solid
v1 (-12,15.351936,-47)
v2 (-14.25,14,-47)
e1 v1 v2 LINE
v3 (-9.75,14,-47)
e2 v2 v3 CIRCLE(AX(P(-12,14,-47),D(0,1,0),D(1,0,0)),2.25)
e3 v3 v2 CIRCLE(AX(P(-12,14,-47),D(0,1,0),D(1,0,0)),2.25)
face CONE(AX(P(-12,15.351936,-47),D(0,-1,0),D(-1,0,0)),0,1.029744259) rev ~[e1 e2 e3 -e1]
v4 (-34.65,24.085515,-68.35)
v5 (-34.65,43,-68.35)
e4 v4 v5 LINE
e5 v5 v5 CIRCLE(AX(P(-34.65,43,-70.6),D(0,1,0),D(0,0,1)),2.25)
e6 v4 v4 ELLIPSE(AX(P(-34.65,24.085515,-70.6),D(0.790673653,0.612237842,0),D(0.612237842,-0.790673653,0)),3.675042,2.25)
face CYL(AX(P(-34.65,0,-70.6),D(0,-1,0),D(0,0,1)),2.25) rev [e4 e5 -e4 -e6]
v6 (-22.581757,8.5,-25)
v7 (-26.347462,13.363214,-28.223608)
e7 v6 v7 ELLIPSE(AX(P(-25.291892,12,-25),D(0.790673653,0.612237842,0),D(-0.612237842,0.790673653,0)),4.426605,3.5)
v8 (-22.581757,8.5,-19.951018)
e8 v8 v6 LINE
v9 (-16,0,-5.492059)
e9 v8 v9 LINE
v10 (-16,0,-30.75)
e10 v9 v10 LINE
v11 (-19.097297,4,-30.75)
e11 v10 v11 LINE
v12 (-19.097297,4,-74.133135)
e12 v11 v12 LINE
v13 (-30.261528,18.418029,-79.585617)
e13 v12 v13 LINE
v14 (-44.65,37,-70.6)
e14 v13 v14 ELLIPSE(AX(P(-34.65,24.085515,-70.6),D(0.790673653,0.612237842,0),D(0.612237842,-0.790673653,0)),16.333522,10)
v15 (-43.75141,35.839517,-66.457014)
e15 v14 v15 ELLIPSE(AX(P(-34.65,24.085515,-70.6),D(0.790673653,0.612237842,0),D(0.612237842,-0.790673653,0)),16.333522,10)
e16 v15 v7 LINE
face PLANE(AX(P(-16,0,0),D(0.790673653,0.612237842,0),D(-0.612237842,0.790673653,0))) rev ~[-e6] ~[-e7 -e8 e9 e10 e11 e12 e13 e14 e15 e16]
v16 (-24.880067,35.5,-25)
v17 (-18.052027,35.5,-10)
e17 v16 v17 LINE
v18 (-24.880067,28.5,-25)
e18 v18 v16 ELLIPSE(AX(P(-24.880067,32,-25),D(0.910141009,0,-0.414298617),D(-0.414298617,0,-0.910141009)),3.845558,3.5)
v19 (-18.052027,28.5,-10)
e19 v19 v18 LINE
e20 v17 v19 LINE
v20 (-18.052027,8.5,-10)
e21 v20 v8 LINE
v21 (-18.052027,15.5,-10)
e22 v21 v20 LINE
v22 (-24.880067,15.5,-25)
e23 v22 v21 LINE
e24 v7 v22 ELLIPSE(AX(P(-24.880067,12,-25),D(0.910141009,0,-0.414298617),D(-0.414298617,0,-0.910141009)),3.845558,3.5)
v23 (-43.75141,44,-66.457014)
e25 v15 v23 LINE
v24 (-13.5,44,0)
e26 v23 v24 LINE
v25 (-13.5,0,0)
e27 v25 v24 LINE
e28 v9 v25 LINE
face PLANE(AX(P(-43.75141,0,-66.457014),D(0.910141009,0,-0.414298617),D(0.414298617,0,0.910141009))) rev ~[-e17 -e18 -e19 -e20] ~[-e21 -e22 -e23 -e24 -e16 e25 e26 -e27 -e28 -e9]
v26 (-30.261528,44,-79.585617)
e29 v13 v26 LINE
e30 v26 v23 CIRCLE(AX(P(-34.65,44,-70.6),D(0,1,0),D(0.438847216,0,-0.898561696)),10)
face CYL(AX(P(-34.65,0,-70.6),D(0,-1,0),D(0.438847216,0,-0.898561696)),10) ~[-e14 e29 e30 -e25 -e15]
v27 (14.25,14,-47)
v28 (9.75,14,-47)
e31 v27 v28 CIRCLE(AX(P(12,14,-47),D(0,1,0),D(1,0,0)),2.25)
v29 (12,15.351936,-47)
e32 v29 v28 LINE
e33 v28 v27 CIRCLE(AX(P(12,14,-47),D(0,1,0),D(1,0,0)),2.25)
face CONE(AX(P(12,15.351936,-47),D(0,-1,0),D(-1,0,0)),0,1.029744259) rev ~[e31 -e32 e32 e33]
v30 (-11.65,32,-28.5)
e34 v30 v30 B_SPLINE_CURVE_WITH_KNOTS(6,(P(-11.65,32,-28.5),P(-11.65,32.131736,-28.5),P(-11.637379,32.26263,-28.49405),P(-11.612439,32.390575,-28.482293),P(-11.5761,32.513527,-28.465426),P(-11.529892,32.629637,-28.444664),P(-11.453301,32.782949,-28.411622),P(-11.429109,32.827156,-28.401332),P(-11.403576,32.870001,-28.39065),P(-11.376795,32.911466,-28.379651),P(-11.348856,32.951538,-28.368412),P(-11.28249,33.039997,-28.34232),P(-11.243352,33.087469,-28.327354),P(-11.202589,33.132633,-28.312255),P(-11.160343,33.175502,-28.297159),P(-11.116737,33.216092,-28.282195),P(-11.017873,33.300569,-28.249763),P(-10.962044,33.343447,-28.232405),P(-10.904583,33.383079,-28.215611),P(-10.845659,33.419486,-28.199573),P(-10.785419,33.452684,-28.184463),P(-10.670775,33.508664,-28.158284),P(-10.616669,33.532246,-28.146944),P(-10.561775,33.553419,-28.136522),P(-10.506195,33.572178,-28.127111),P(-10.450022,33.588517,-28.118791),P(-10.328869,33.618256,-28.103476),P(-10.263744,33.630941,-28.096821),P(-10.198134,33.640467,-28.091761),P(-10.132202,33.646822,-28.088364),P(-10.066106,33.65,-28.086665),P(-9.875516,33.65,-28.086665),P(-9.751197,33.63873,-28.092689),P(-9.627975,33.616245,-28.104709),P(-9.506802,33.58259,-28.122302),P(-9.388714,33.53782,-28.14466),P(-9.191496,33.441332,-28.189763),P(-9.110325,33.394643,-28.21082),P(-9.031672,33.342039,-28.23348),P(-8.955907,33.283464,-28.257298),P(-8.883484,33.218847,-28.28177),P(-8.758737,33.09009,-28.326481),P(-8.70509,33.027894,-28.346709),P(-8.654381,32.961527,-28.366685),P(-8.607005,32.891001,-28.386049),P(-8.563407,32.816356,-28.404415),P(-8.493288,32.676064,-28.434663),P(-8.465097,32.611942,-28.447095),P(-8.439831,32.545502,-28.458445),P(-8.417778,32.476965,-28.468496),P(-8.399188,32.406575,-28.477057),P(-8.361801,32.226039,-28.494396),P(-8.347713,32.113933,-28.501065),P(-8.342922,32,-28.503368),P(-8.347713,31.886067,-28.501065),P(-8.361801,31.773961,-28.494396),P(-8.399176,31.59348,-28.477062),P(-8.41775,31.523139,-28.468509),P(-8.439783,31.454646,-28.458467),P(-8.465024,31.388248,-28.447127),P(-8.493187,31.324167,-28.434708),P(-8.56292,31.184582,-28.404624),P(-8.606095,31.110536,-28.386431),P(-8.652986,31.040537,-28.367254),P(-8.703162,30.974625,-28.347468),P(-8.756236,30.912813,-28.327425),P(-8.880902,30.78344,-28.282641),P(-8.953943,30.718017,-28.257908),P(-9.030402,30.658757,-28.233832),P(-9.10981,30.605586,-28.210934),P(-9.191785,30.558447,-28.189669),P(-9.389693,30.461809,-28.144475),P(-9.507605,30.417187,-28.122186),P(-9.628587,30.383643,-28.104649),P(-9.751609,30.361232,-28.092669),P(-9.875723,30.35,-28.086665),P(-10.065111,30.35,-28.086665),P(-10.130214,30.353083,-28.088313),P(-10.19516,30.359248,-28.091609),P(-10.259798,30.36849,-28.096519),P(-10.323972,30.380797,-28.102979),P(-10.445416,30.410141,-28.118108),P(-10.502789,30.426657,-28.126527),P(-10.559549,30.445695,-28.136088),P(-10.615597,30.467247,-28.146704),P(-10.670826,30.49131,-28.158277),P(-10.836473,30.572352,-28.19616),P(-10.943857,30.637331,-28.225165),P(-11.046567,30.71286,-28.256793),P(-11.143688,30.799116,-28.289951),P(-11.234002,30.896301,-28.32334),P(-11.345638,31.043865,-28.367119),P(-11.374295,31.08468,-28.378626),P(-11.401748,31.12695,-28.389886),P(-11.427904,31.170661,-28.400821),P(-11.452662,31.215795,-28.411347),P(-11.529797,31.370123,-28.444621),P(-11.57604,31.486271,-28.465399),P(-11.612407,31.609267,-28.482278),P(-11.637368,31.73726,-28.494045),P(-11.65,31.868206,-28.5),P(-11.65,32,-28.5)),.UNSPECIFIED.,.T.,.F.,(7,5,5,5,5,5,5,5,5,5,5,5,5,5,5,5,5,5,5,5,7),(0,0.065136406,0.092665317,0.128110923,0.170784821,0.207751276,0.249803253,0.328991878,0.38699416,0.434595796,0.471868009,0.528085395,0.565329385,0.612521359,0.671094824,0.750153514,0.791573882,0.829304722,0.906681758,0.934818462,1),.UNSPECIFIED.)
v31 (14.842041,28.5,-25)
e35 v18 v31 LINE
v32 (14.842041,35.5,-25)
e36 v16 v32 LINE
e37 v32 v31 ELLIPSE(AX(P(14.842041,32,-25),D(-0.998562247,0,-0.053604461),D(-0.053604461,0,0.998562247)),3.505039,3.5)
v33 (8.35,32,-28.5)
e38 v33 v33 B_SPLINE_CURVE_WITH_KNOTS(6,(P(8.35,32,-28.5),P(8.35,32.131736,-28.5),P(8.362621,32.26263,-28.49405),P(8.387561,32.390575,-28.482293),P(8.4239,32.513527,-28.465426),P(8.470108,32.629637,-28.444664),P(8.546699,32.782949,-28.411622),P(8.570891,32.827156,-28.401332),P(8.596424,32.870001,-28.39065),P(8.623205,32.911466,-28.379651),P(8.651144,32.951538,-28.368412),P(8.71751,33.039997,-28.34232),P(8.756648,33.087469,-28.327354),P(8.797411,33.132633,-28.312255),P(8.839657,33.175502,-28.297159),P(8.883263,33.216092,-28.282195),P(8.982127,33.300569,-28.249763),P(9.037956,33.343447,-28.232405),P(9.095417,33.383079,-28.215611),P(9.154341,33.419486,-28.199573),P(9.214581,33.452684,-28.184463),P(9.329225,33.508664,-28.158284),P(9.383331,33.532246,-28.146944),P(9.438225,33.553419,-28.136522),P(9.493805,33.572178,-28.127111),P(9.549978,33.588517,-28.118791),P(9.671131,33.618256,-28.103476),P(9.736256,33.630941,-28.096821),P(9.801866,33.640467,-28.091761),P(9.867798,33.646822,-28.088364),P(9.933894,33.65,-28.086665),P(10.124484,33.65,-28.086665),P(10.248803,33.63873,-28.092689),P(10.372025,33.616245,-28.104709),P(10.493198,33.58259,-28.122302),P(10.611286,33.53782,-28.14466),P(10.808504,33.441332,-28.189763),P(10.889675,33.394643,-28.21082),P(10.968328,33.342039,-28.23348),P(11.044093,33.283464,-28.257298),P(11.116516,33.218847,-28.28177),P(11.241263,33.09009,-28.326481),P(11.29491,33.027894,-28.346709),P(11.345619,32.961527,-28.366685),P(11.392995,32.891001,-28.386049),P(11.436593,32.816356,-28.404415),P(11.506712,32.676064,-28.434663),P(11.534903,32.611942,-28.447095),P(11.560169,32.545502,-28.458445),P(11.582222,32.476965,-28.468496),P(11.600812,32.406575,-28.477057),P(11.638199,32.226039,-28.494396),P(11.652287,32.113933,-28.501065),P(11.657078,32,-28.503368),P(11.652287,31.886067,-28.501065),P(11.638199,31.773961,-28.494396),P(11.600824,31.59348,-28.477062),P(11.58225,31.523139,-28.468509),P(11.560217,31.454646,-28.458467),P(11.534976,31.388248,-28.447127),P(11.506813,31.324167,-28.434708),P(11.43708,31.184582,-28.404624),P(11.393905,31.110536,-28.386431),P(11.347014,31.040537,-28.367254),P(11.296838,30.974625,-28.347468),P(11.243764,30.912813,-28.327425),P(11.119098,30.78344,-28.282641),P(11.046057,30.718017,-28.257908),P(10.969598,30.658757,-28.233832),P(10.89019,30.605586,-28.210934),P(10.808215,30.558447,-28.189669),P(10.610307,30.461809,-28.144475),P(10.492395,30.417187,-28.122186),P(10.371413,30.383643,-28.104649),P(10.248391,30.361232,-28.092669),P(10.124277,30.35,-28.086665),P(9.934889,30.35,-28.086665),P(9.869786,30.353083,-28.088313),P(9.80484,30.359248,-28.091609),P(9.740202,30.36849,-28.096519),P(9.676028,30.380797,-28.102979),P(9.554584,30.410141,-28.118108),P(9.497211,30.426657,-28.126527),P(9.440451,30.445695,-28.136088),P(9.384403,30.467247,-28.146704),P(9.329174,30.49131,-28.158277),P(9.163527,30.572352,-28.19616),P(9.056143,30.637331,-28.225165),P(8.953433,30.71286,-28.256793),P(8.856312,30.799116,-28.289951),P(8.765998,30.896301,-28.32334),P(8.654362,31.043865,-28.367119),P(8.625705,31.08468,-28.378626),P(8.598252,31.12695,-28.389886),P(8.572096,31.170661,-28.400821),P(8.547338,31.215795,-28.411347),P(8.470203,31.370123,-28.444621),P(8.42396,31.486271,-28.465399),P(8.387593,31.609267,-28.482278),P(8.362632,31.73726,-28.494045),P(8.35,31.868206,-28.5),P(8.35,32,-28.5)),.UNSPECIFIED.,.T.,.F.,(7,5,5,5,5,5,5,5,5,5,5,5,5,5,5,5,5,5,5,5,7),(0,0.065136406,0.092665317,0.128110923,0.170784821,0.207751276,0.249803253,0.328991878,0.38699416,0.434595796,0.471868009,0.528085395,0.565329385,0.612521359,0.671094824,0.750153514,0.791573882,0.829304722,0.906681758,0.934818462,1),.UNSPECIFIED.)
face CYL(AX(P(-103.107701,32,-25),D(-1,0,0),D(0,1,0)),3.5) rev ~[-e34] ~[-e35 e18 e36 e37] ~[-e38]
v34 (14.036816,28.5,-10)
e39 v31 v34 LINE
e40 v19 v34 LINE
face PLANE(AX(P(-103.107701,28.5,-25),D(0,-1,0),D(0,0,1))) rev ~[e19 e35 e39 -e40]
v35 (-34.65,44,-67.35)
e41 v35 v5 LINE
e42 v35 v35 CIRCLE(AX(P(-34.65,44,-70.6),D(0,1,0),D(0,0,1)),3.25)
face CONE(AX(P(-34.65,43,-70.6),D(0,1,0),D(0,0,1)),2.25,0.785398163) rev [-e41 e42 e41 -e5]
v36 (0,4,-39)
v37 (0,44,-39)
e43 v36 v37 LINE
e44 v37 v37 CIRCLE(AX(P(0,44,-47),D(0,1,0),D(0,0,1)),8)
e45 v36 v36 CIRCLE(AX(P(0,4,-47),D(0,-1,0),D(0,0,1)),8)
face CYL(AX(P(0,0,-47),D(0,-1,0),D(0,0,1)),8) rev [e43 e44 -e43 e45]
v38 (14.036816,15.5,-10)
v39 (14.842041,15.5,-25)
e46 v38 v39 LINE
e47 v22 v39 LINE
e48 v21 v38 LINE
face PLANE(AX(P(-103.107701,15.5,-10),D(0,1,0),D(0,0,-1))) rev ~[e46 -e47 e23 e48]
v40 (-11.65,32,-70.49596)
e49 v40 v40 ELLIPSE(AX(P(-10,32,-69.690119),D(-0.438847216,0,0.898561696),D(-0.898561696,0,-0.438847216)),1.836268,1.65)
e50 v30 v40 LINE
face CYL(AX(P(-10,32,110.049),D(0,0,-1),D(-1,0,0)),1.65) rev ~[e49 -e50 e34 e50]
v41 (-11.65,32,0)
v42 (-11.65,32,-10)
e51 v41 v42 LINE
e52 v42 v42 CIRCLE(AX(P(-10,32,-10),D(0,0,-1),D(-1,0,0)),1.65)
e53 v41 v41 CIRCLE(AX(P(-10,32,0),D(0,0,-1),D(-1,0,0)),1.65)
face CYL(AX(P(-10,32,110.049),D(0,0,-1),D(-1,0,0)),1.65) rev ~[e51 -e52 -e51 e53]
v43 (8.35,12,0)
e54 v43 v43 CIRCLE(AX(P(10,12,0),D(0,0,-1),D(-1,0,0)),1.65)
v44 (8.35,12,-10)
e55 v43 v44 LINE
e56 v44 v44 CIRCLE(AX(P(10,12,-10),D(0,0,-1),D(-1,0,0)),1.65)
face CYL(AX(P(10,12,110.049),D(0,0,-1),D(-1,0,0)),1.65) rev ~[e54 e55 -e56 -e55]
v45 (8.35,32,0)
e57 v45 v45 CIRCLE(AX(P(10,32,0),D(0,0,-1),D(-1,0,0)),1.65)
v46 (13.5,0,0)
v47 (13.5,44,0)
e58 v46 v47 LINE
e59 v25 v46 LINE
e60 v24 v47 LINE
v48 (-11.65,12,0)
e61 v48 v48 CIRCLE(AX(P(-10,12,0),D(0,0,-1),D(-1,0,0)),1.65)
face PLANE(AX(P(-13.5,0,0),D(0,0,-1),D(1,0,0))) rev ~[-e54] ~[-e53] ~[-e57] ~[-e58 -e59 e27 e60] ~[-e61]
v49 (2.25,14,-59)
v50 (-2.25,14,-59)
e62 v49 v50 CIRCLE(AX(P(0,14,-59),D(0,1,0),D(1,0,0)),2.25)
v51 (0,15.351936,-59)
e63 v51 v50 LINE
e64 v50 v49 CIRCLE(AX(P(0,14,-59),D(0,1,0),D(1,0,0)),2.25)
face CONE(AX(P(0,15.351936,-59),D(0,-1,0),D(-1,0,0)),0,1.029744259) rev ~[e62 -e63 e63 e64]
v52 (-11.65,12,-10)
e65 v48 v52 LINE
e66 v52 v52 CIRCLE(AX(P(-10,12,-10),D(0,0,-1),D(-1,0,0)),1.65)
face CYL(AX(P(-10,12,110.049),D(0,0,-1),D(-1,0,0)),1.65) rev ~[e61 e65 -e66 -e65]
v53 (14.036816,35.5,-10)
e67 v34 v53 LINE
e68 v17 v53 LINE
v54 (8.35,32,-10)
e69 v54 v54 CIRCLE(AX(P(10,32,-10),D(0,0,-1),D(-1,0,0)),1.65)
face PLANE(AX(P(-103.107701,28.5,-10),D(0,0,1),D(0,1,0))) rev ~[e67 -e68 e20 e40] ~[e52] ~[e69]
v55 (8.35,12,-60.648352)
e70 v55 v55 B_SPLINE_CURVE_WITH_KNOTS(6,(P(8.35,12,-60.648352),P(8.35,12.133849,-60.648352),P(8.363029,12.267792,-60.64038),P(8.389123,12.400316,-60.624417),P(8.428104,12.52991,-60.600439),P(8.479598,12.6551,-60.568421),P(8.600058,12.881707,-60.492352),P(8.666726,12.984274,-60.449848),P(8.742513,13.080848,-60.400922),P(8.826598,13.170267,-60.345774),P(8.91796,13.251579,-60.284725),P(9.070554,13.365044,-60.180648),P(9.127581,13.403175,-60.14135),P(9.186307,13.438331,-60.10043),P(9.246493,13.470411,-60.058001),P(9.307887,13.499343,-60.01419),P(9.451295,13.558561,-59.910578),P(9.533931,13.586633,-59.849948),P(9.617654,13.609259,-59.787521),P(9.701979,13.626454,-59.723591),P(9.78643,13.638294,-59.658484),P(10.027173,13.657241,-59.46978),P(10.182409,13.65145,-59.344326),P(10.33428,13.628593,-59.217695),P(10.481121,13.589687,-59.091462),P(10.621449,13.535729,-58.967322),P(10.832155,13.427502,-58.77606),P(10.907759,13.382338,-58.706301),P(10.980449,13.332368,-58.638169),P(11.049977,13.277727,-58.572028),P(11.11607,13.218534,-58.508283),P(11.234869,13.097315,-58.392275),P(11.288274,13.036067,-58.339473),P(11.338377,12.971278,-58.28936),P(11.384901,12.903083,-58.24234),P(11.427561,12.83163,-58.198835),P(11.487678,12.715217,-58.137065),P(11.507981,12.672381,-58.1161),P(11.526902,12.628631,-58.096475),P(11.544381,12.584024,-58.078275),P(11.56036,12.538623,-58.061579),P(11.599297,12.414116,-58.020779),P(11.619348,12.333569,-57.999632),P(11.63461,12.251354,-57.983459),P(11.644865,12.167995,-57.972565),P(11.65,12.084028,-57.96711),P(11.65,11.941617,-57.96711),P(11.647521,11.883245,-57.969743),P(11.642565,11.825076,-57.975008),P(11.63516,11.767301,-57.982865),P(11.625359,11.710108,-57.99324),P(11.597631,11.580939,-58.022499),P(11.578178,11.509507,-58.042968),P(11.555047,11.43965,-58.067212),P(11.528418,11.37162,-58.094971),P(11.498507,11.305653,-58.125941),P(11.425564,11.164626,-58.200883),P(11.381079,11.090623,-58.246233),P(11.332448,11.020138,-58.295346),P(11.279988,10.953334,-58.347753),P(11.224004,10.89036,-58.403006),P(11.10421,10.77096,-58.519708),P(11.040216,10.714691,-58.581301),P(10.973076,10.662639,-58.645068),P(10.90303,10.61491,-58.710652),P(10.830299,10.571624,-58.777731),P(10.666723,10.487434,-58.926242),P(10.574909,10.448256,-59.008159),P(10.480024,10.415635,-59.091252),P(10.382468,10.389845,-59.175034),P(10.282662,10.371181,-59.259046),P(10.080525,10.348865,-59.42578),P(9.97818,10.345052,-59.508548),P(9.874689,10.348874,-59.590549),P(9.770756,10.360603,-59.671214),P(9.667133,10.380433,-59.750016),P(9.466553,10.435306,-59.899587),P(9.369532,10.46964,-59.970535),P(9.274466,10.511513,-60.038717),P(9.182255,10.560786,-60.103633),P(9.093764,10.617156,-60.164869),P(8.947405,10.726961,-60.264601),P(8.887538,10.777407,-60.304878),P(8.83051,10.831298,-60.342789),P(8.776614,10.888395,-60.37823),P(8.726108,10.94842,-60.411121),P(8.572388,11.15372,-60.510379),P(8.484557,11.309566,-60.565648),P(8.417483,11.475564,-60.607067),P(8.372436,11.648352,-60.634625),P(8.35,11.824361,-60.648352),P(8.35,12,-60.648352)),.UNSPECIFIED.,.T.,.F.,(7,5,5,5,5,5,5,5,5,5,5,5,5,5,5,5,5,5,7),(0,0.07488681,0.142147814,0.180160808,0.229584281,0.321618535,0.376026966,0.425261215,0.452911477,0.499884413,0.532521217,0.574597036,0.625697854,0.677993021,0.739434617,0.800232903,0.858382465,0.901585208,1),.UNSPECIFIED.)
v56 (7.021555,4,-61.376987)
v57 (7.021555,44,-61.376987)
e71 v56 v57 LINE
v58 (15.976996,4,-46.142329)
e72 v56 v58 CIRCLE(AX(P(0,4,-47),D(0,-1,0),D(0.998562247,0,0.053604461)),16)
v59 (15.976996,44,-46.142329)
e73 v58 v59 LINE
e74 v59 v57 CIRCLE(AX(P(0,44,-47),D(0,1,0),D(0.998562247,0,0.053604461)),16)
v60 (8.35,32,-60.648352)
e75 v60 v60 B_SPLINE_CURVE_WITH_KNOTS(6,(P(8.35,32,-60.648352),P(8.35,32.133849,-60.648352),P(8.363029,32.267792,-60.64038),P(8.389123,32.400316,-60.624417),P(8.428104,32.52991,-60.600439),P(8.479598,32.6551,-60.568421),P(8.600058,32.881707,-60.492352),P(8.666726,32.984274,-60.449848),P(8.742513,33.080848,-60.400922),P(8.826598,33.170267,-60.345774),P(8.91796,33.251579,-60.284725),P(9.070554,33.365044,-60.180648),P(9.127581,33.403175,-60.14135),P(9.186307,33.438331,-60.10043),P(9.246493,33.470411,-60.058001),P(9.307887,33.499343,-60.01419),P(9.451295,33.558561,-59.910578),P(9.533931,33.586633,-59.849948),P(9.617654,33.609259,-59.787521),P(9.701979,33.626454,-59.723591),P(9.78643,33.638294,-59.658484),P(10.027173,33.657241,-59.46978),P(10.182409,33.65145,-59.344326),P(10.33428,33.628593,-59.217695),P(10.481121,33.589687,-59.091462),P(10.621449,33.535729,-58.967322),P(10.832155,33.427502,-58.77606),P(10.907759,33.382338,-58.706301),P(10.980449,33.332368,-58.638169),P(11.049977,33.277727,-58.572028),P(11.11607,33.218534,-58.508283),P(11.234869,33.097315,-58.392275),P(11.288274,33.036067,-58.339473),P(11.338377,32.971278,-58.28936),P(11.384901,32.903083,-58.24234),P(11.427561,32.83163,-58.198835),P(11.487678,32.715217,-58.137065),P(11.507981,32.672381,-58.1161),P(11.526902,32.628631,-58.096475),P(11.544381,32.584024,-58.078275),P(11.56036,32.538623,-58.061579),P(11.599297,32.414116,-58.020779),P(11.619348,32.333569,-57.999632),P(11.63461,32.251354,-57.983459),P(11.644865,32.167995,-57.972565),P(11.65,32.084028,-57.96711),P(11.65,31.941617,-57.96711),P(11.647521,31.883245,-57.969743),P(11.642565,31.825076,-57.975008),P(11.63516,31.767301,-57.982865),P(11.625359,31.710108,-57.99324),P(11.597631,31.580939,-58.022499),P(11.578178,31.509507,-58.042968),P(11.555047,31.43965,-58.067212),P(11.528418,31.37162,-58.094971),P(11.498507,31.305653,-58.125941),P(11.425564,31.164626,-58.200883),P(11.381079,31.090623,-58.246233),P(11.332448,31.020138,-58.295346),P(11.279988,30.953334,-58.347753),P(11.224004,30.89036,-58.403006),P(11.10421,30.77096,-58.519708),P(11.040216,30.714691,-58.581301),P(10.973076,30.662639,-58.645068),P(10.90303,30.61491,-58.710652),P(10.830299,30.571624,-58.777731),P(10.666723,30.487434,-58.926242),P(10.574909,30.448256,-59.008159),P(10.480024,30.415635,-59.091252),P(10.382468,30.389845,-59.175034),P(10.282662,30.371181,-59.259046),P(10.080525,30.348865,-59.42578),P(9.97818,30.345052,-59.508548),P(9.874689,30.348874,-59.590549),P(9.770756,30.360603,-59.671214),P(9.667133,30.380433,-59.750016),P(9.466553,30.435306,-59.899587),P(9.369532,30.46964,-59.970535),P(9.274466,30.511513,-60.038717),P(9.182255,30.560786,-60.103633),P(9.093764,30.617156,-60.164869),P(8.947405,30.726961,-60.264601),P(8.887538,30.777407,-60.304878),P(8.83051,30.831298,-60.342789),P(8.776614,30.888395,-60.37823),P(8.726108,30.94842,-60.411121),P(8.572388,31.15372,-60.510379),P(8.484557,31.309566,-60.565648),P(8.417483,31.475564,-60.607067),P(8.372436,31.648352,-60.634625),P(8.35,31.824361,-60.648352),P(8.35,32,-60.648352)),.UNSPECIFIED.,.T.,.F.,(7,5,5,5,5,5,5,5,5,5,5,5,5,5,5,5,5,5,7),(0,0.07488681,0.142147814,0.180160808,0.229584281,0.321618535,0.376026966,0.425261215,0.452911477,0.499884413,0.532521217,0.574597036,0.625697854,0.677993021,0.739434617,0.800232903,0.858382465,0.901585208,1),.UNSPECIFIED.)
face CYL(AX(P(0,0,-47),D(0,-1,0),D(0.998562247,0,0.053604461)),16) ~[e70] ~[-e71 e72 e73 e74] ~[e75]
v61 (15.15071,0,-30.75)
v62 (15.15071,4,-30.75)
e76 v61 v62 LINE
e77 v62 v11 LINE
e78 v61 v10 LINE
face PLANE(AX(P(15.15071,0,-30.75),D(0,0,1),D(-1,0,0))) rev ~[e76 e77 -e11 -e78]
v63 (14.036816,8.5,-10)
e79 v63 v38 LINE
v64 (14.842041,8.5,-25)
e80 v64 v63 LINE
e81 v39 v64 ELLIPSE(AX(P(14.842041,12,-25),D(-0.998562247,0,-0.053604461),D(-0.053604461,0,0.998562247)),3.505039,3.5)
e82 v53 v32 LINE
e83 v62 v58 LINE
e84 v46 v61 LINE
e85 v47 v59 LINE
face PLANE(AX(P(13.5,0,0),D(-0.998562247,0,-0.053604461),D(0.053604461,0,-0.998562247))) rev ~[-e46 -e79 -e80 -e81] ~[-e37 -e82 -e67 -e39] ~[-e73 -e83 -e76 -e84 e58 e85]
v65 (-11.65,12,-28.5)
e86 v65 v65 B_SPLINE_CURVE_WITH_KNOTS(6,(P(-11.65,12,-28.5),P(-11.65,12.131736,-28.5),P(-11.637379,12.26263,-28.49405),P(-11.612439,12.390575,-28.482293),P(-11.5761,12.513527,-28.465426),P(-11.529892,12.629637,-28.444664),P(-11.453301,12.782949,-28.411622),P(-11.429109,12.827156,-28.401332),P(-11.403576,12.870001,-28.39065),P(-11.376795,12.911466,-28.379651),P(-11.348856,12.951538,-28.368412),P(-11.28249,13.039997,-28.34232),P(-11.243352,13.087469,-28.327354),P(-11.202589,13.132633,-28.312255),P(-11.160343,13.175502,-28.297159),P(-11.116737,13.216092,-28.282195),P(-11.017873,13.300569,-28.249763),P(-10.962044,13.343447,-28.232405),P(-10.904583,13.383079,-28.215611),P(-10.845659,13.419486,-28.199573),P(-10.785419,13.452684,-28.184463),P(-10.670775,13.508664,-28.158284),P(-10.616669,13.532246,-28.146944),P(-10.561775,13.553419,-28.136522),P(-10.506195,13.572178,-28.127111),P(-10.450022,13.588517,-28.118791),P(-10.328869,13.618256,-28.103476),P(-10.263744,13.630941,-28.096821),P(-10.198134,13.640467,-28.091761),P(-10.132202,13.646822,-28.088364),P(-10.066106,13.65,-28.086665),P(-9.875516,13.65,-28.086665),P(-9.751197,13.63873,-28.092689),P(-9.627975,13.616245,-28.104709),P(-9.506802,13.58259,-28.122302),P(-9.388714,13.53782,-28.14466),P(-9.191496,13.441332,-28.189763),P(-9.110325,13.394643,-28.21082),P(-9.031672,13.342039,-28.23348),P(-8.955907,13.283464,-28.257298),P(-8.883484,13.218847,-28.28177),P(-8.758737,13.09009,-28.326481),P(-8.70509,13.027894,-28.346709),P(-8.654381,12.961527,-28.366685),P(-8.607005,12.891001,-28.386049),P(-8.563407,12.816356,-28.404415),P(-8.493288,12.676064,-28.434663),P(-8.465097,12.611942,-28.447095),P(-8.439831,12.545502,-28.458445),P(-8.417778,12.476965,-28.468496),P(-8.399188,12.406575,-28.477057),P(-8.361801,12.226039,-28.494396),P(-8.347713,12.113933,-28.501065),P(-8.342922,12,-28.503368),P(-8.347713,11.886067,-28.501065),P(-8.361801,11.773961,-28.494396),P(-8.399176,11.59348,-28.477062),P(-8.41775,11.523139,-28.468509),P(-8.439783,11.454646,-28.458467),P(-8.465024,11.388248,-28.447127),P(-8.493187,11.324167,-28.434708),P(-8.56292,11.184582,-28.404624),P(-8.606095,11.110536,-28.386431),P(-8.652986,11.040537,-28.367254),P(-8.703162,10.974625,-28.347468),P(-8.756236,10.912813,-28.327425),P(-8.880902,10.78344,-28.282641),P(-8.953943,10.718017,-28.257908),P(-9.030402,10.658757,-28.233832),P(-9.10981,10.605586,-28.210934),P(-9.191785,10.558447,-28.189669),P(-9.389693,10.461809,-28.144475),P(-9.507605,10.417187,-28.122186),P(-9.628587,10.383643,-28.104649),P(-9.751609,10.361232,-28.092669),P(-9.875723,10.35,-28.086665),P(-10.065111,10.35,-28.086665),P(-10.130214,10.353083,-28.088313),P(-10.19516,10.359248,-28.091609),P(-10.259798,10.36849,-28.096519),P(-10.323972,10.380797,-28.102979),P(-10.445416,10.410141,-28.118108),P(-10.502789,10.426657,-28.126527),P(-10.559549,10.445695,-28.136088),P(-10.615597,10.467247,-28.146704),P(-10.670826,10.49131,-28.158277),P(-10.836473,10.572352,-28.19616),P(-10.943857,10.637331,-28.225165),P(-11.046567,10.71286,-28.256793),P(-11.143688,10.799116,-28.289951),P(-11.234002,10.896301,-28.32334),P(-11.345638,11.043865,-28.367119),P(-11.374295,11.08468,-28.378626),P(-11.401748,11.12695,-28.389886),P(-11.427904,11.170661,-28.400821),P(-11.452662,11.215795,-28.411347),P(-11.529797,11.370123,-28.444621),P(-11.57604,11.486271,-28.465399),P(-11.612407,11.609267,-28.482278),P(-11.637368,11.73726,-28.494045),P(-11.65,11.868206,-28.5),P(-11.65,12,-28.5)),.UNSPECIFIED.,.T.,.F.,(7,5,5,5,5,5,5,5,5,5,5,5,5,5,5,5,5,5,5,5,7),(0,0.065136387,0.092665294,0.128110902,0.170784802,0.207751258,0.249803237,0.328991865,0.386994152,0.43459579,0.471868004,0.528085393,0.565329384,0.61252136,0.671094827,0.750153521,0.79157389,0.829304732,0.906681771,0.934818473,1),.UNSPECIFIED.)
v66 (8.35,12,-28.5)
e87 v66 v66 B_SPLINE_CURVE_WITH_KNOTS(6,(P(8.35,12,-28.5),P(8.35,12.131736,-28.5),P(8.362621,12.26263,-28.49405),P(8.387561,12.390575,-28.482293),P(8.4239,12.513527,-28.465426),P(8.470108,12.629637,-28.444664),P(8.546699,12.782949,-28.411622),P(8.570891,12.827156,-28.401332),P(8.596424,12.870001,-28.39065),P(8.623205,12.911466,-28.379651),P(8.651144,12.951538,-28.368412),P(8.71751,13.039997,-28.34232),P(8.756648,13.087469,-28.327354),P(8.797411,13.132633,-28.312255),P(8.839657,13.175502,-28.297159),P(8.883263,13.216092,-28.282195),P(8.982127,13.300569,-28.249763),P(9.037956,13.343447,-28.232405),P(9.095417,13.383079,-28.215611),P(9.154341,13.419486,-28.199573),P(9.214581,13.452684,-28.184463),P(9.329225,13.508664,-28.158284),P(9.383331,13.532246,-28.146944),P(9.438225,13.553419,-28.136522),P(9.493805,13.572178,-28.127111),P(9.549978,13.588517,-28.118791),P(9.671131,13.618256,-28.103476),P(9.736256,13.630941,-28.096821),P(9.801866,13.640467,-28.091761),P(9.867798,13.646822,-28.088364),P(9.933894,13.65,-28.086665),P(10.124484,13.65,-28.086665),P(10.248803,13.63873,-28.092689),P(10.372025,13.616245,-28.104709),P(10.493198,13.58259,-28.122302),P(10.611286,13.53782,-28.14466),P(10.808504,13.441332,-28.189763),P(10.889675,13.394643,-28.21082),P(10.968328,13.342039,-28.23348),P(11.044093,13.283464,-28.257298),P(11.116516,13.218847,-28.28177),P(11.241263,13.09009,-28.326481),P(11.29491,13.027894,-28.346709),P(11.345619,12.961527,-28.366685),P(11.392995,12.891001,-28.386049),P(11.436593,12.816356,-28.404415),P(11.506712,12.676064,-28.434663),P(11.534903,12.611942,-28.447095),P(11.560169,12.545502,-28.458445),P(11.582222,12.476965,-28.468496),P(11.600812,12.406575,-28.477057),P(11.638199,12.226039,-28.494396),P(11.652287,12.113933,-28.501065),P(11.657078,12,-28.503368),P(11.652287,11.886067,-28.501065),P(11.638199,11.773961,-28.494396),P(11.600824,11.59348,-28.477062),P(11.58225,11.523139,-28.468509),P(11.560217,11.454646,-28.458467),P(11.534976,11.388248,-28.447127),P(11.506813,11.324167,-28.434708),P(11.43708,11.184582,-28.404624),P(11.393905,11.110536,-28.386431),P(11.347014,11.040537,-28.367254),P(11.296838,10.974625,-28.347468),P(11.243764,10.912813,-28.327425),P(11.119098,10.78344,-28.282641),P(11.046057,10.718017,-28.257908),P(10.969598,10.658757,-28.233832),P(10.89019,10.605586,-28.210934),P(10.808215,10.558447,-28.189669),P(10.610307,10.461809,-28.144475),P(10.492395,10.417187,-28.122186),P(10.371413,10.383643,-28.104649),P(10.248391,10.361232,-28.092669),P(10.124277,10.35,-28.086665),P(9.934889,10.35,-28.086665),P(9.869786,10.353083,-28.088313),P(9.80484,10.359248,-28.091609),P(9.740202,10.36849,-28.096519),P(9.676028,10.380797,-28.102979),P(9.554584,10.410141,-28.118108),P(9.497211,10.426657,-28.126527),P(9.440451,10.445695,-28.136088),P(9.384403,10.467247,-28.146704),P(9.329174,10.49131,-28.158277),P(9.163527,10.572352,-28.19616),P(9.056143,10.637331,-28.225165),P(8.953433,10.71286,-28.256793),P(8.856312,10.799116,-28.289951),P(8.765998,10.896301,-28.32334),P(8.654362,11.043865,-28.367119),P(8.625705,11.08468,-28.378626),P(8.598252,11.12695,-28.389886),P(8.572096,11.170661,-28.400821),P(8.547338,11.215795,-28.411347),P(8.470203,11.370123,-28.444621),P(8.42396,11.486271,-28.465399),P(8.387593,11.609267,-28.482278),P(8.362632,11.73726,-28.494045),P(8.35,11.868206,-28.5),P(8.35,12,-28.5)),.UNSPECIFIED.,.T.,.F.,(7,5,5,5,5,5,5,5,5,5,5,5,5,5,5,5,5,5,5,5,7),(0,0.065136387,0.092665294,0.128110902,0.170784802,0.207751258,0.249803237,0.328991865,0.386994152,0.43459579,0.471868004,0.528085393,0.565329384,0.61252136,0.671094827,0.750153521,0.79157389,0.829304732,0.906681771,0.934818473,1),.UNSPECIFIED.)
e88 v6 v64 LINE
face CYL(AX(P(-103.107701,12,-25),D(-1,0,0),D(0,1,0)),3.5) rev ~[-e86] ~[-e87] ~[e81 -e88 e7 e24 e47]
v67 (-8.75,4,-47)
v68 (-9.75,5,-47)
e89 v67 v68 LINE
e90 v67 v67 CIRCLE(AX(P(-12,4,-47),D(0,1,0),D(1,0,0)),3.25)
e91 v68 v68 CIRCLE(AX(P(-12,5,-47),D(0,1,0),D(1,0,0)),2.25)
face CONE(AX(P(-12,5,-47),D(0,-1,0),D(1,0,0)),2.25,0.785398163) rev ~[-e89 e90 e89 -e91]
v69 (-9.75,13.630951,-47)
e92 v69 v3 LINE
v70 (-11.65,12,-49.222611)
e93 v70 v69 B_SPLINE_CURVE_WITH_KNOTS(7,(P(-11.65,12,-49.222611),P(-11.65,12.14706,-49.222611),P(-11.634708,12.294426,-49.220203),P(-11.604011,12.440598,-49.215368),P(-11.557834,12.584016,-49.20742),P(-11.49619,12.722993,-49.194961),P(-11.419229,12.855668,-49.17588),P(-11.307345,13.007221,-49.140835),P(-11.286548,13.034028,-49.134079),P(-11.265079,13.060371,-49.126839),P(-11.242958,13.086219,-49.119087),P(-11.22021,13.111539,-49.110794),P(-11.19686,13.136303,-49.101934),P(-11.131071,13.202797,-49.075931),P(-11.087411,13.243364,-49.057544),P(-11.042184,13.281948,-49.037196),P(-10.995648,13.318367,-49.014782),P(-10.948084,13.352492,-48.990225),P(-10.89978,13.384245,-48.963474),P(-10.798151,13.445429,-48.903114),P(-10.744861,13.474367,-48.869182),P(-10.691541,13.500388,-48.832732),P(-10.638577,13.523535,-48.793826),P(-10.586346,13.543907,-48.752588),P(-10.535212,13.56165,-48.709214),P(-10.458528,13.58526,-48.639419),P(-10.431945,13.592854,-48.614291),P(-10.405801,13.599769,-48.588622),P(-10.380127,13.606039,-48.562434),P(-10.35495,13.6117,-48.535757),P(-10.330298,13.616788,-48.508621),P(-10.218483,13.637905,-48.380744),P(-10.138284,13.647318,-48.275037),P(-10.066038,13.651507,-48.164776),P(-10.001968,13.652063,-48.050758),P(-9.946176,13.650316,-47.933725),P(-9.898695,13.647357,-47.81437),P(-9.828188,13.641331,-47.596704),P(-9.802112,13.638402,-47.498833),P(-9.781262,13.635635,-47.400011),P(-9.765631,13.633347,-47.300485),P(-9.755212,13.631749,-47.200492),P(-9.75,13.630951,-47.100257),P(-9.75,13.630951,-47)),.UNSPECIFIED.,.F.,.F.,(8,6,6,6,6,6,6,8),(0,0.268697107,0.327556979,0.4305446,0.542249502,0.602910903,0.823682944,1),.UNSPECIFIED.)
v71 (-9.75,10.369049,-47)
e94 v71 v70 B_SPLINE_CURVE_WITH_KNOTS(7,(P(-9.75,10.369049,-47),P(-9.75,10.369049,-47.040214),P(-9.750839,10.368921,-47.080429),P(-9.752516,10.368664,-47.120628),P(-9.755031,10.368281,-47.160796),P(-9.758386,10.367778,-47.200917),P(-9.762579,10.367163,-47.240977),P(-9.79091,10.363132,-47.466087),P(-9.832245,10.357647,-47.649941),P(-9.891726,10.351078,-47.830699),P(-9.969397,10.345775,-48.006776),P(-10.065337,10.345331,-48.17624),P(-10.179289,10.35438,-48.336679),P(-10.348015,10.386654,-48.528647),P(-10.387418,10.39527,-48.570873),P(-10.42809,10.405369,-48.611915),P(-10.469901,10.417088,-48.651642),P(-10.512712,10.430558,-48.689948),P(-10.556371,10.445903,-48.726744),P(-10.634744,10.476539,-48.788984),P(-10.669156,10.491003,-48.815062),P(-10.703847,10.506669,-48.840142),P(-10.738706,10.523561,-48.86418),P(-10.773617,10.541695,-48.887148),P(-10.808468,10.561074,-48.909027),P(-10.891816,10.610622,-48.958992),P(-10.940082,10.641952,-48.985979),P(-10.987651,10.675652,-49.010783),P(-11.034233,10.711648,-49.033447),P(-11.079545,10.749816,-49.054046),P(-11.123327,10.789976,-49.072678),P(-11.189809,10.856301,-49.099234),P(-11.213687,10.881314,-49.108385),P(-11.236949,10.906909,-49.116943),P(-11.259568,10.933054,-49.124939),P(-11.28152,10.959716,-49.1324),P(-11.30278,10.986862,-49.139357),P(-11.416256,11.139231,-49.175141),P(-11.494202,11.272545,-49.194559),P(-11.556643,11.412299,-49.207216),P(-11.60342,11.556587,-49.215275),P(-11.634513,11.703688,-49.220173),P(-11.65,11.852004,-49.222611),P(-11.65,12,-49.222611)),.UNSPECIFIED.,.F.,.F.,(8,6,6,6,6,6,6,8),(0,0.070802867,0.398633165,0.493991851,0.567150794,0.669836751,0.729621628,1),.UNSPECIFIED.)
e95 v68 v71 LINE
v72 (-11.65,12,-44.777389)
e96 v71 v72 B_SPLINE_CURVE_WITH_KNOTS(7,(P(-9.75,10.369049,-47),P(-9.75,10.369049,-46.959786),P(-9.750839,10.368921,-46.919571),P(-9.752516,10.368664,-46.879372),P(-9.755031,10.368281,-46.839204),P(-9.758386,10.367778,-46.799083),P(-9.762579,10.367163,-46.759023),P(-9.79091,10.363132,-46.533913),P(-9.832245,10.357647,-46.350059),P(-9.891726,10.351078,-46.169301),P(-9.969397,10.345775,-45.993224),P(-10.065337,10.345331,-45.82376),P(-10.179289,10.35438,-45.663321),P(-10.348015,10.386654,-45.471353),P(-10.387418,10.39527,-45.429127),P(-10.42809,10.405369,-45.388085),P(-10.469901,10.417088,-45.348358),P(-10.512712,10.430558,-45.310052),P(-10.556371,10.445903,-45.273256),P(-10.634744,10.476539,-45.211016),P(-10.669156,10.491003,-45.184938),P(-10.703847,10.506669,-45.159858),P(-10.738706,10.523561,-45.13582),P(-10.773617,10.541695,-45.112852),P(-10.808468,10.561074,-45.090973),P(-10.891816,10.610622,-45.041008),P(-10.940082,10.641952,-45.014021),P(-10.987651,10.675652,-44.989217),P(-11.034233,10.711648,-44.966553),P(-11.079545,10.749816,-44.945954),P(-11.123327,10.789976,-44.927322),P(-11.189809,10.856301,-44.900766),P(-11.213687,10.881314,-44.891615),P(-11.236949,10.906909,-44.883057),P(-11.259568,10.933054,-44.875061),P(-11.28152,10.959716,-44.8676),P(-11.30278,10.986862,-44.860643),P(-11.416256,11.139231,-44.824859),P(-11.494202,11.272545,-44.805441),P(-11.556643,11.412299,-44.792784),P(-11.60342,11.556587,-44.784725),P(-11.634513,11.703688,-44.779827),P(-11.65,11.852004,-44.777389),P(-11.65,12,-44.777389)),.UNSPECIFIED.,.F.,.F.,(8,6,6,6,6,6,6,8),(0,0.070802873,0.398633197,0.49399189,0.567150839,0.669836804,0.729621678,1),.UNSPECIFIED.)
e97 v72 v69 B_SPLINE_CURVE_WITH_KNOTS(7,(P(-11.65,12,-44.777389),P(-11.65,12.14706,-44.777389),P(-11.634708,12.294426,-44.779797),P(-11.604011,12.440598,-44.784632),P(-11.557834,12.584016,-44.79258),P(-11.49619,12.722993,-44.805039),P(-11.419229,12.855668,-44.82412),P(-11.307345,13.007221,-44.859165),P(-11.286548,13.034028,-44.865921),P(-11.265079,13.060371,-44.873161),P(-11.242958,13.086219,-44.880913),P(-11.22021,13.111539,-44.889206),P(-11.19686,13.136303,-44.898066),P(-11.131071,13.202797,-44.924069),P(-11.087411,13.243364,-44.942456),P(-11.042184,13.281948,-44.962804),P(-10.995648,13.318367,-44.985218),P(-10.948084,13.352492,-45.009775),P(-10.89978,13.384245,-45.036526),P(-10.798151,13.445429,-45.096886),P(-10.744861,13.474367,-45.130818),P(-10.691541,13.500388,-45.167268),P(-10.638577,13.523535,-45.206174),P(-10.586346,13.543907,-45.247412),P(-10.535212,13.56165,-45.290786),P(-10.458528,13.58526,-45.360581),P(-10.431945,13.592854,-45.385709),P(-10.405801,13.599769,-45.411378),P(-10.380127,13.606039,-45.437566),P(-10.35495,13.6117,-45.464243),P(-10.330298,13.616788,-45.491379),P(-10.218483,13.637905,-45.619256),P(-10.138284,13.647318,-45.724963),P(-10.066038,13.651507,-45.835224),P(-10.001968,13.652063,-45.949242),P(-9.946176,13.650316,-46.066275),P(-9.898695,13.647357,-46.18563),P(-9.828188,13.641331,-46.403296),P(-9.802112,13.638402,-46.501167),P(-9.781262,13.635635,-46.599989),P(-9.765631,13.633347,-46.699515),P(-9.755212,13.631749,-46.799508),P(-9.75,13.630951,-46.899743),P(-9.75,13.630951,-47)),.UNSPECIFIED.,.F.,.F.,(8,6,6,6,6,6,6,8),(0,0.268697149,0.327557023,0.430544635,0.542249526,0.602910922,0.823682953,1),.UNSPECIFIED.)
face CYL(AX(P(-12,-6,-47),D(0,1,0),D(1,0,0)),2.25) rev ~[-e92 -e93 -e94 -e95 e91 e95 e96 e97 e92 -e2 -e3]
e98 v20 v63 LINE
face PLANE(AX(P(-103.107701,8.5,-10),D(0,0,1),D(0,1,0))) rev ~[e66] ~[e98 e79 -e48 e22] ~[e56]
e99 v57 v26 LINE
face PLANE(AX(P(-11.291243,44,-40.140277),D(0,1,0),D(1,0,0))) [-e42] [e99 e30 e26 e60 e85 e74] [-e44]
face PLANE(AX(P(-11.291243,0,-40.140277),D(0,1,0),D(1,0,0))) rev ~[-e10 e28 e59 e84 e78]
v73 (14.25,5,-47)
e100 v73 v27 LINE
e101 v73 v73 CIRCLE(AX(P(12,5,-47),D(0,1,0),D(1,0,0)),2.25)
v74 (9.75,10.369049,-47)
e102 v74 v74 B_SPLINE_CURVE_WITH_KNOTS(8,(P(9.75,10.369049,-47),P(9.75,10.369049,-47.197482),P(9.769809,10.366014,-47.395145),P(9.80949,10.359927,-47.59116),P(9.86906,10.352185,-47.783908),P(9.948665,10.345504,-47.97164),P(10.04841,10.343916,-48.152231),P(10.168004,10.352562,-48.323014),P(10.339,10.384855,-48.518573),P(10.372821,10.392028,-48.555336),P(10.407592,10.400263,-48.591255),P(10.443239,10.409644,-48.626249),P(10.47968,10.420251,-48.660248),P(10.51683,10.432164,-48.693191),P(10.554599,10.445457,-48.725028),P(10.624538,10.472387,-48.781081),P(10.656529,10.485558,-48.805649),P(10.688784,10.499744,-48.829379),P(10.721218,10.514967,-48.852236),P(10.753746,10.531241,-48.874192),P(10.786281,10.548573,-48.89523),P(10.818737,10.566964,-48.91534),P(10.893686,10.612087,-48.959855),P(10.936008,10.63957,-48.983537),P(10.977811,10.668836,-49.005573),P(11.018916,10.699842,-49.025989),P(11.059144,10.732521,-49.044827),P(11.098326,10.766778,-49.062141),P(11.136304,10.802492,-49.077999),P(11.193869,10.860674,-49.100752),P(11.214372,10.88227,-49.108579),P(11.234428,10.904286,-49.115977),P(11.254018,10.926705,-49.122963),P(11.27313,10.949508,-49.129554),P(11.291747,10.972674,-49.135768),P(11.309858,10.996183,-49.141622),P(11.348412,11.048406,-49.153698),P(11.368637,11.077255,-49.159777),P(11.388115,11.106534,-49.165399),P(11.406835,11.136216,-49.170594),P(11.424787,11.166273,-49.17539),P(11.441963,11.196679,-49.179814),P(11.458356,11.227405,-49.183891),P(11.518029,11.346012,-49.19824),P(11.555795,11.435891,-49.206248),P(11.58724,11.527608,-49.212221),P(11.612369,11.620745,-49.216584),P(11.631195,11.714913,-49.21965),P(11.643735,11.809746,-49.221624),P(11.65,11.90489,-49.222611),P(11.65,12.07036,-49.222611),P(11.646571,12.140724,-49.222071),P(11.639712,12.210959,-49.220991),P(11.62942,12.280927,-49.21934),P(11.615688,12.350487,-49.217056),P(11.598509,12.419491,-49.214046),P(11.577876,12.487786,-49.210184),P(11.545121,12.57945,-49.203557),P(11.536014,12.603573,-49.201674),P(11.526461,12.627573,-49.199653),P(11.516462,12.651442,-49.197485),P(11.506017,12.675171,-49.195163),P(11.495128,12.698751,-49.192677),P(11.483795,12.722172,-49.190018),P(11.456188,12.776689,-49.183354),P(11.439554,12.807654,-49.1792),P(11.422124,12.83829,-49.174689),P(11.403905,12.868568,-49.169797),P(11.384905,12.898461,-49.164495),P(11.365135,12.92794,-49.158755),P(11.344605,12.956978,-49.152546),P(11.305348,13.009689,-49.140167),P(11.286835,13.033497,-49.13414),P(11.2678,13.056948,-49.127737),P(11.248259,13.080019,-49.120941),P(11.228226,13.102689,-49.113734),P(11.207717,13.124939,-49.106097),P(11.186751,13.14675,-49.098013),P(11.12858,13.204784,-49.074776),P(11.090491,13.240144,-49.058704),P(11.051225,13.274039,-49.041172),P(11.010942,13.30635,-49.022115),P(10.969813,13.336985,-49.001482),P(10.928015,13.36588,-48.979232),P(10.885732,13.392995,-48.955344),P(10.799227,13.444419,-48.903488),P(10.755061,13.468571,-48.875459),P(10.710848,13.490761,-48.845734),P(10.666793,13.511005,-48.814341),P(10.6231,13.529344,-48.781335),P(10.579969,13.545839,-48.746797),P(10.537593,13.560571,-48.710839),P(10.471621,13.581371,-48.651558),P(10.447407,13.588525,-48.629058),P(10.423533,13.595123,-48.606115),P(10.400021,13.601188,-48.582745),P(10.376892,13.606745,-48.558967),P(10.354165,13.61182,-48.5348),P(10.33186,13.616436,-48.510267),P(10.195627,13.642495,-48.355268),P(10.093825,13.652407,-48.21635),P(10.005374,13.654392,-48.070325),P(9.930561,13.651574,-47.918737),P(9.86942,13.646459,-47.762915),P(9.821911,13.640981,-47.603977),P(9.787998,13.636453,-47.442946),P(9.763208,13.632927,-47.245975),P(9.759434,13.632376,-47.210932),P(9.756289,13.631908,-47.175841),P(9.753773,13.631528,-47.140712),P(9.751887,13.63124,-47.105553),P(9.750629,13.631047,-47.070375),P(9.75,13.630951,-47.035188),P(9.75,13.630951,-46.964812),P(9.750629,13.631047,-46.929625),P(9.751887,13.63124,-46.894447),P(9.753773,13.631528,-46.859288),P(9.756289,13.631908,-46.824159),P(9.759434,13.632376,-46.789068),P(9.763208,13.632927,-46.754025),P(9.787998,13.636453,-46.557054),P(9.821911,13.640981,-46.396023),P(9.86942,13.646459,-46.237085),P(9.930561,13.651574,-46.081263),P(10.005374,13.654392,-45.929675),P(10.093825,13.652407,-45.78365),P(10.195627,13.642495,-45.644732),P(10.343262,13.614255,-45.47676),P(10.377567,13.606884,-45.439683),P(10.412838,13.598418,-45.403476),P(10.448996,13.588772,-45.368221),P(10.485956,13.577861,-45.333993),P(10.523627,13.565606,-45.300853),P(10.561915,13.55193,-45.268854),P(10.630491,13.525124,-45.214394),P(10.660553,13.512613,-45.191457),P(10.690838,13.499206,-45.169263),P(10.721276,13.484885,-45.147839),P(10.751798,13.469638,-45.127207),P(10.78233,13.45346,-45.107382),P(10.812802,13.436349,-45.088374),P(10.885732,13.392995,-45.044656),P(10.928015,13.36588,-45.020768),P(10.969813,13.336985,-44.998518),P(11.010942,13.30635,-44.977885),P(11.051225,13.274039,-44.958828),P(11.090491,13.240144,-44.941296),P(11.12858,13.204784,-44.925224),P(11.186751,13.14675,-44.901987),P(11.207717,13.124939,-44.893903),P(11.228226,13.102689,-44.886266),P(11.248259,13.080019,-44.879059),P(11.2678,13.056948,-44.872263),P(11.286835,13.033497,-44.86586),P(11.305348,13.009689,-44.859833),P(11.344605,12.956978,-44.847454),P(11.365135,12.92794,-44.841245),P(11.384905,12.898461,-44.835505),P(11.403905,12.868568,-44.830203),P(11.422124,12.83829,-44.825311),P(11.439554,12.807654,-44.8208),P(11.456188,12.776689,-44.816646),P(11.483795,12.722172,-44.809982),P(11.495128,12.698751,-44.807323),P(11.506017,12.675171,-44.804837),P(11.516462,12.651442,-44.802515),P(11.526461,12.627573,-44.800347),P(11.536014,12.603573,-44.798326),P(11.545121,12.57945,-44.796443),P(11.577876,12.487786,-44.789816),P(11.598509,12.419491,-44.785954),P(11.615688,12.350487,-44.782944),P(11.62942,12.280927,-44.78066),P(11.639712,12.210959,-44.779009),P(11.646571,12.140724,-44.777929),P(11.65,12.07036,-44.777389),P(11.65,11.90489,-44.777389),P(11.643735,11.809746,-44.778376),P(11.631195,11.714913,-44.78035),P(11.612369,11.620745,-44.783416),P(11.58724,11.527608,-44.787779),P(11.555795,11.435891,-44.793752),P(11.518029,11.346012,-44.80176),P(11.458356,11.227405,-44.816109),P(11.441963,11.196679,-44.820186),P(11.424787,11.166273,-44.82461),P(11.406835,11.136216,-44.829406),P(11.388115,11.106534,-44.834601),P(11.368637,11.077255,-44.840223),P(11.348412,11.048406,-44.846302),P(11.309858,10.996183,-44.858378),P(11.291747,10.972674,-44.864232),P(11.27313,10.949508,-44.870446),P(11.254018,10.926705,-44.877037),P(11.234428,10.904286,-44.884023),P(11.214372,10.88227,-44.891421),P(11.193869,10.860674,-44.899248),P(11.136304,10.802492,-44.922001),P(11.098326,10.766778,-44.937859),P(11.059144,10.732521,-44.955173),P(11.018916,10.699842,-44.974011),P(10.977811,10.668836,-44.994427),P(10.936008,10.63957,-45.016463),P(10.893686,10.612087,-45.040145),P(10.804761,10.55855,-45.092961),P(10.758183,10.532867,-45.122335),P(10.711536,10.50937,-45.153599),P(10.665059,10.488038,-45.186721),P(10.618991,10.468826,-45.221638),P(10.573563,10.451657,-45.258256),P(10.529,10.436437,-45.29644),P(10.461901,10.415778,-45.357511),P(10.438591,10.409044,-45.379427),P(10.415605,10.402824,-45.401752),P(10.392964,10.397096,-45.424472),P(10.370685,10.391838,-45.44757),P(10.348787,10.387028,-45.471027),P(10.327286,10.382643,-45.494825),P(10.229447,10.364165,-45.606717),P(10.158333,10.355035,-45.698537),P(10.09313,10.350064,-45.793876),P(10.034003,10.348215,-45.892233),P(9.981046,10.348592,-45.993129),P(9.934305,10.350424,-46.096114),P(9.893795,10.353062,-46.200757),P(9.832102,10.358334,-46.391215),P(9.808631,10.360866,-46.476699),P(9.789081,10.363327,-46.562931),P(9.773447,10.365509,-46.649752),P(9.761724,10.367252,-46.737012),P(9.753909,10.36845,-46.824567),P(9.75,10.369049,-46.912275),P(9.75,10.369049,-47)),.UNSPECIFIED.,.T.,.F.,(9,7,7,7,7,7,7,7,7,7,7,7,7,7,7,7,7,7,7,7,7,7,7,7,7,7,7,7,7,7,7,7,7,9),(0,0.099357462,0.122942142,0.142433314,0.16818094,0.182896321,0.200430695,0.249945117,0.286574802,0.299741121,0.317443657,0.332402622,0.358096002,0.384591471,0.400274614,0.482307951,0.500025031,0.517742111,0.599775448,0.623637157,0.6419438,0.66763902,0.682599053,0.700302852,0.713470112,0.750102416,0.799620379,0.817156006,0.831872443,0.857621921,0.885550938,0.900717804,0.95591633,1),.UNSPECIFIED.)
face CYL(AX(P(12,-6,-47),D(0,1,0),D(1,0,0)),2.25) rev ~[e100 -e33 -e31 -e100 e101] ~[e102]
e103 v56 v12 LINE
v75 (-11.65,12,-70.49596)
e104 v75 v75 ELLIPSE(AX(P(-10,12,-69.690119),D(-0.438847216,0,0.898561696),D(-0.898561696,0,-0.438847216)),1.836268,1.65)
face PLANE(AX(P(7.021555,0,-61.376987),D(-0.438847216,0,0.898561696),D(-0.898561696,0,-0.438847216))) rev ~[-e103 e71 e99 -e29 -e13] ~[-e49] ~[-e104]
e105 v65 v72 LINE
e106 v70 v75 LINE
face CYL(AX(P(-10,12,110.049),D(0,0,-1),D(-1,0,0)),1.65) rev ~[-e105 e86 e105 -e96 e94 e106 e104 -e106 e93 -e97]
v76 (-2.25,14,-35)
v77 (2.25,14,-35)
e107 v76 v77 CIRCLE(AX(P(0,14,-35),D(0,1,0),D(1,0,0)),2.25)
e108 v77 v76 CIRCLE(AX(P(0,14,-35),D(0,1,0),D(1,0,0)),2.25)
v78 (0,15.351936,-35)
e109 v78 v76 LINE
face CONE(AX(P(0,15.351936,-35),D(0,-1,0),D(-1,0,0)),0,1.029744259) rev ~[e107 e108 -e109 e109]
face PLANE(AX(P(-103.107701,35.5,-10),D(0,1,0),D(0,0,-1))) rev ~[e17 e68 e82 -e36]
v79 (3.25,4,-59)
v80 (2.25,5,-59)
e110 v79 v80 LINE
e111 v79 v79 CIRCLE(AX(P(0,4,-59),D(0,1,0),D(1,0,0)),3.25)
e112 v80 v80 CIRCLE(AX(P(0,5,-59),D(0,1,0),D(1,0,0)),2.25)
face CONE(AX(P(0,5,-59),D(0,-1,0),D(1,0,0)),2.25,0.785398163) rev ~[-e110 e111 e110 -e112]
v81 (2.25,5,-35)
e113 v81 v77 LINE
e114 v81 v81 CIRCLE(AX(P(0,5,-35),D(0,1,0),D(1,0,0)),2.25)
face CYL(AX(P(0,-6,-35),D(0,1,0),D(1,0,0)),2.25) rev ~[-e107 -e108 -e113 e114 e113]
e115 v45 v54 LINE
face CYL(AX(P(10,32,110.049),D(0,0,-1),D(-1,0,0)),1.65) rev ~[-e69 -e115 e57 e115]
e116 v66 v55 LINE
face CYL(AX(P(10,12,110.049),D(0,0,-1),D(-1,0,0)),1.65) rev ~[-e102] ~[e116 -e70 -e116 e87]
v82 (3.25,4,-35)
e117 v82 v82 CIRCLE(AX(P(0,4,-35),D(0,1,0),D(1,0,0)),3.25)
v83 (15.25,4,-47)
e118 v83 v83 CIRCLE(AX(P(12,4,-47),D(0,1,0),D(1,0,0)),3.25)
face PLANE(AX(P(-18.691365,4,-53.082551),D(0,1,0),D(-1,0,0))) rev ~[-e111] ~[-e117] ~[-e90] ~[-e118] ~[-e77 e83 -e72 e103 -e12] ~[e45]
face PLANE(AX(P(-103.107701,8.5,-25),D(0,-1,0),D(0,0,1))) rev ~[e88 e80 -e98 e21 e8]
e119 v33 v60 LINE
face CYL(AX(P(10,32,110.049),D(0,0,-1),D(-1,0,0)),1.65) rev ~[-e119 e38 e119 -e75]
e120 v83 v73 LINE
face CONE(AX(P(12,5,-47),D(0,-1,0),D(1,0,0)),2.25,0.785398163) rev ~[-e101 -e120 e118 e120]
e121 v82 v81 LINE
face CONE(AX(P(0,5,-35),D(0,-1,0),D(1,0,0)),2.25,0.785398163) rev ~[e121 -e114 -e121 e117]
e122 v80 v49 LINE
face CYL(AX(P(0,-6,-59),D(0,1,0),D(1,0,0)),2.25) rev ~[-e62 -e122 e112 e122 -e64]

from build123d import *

# Parameters (mm, degrees)
SKETCH1_R                      = 8
SKETCH1_R_2                    = 2.25
BOSS_EXTRUDE1_DEPTH            = 44
CUT_EXTRUDE4_DEPTH             = 4
CUT_EXTRUDE5_DEPTH             = 103.107700493
F_4_5_4_5_DIAMETER_HOLE1_D     = 4.5
F_4_5_4_5_DIAMETER_HOLE1_DEPTH = 10
F_4_5_4_5_DIAMETER_HOLE1_TIP   = 1.351936393
CHAMFER1_SIZE                  = 1
F_3_3_3_3_DIAMETER_HOLE1_D     = 3.3
CUT_EXTRUDE6_DEPTH             = 103.107700536
CUT_EXTRUDE6_DEPTH_BACK        = 103.107700536


with BuildPart() as part:
    # Sketch1 → Boss-Extrude1 (new body)
    with BuildSketch(Plane(origin=(0, 0, 0), x_dir=(1, 0, 0), z_dir=(0, 1, 0))):
        with BuildLine():
            Line((-13.5, 0), (13.5, 0))
            Line((13.5, 0), (15.976995957, 46.142328626))
            ThreePointArc((15.976995957, 46.142328626), (13.793369664, 55.108202842), (7.021555451, 61.376987134))
            Line((7.021555451, 61.376987134), (-30.261527843, 79.585616959))
            ThreePointArc((-30.261527843, 79.585616959), (-41.624453455, 77.76637977), (-43.75141009, 66.457013833))
            Line((-43.75141009, 66.457013833), (-13.5, 0))
        make_face()
        with Locations(Location((0, 47, 0), (0, 0, 270))):
            Circle(SKETCH1_R, mode=Mode.SUBTRACT)
        with Locations(Location((-34.65, 70.6, 0), (0, 0, 270))):
            Circle(SKETCH1_R_2, mode=Mode.SUBTRACT)
    extrude(amount=BOSS_EXTRUDE1_DEPTH)

    # Sketch2 → Cut-Extrude4 (cut)
    with BuildSketch(Plane.XZ):
        Polygon((0, -30.75), (15.150710485, -30.75), (16.545133066, -56.725781169), (-44.65, -86.612781563), (-44.65, -30.75), align=None)
    extrude(amount=-CUT_EXTRUDE4_DEPTH, mode=Mode.SUBTRACT)

    # Sketch4 → Cut-Extrude5 (cut, through all)
    with BuildSketch(Plane.XY):
        Polygon((-16, 0), (-44.65, 37), (-44.65, 0), align=None)
    extrude(amount=-CUT_EXTRUDE5_DEPTH, mode=Mode.SUBTRACT)

    # Ø4.5 (4.5) Diameter Hole1
    with Locations(Plane(origin=(0, 4, 0), x_dir=(-1, 0, 0), z_dir=(0, -1, 0))):
        with Locations((0, 35), (0, 59), (12, 47), (-12, 47)):
            Hole(F_4_5_4_5_DIAMETER_HOLE1_D / 2, depth=F_4_5_4_5_DIAMETER_HOLE1_DEPTH)
            with Locations((0, 0, -(F_4_5_4_5_DIAMETER_HOLE1_DEPTH + F_4_5_4_5_DIAMETER_HOLE1_TIP / 2))):  # 118° drill point
                Cone(0, F_4_5_4_5_DIAMETER_HOLE1_D / 2, F_4_5_4_5_DIAMETER_HOLE1_TIP, mode=Mode.SUBTRACT)

    # Chamfer1
    chamfer1_edges = [part.edges().sort_by_distance(p)[0] for p in [
        (9.75, 4, -47),
        (-14.25, 4, -47),
        (-2.25, 4, -59),
        (-2.25, 4, -35),
        (-34.65, 44, -72.85),
    ]]
    chamfer(chamfer1_edges, length=CHAMFER1_SIZE)

    # Ø3.3 (3.3) Diameter Hole1 (through all)
    with Locations(Plane.XY):
        with Locations((-10, 32), (10, 32), (10, 12), (-10, 12)):
            Hole(F_3_3_3_3_DIAMETER_HOLE1_D / 2)

    # Sketch13 → Cut-Extrude6 (cut, two sides: drawn at the far end of the back side and taken through both)
    with BuildSketch(Plane(origin=(0, 0, 0), x_dir=(0, 0, -1), z_dir=(1, 0, 0)).offset(-CUT_EXTRUDE6_DEPTH_BACK)):
        with BuildLine():
            Line((10, 35.5), (25, 35.5))
            ThreePointArc((25, 35.5), (28.5, 32), (25, 28.5))
            Line((25, 28.5), (10, 28.5))
            Line((10, 28.5), (10, 35.5))
        make_face()
        with BuildLine():
            Line((10, 15.5), (25, 15.5))
            ThreePointArc((25, 15.5), (28.5, 12), (25, 8.5))
            Line((25, 8.5), (10, 8.5))
            Line((10, 8.5), (10, 15.5))
        make_face()
    extrude(amount=CUT_EXTRUDE6_DEPTH + CUT_EXTRUDE6_DEPTH_BACK, mode=Mode.SUBTRACT)


solid = part.part
